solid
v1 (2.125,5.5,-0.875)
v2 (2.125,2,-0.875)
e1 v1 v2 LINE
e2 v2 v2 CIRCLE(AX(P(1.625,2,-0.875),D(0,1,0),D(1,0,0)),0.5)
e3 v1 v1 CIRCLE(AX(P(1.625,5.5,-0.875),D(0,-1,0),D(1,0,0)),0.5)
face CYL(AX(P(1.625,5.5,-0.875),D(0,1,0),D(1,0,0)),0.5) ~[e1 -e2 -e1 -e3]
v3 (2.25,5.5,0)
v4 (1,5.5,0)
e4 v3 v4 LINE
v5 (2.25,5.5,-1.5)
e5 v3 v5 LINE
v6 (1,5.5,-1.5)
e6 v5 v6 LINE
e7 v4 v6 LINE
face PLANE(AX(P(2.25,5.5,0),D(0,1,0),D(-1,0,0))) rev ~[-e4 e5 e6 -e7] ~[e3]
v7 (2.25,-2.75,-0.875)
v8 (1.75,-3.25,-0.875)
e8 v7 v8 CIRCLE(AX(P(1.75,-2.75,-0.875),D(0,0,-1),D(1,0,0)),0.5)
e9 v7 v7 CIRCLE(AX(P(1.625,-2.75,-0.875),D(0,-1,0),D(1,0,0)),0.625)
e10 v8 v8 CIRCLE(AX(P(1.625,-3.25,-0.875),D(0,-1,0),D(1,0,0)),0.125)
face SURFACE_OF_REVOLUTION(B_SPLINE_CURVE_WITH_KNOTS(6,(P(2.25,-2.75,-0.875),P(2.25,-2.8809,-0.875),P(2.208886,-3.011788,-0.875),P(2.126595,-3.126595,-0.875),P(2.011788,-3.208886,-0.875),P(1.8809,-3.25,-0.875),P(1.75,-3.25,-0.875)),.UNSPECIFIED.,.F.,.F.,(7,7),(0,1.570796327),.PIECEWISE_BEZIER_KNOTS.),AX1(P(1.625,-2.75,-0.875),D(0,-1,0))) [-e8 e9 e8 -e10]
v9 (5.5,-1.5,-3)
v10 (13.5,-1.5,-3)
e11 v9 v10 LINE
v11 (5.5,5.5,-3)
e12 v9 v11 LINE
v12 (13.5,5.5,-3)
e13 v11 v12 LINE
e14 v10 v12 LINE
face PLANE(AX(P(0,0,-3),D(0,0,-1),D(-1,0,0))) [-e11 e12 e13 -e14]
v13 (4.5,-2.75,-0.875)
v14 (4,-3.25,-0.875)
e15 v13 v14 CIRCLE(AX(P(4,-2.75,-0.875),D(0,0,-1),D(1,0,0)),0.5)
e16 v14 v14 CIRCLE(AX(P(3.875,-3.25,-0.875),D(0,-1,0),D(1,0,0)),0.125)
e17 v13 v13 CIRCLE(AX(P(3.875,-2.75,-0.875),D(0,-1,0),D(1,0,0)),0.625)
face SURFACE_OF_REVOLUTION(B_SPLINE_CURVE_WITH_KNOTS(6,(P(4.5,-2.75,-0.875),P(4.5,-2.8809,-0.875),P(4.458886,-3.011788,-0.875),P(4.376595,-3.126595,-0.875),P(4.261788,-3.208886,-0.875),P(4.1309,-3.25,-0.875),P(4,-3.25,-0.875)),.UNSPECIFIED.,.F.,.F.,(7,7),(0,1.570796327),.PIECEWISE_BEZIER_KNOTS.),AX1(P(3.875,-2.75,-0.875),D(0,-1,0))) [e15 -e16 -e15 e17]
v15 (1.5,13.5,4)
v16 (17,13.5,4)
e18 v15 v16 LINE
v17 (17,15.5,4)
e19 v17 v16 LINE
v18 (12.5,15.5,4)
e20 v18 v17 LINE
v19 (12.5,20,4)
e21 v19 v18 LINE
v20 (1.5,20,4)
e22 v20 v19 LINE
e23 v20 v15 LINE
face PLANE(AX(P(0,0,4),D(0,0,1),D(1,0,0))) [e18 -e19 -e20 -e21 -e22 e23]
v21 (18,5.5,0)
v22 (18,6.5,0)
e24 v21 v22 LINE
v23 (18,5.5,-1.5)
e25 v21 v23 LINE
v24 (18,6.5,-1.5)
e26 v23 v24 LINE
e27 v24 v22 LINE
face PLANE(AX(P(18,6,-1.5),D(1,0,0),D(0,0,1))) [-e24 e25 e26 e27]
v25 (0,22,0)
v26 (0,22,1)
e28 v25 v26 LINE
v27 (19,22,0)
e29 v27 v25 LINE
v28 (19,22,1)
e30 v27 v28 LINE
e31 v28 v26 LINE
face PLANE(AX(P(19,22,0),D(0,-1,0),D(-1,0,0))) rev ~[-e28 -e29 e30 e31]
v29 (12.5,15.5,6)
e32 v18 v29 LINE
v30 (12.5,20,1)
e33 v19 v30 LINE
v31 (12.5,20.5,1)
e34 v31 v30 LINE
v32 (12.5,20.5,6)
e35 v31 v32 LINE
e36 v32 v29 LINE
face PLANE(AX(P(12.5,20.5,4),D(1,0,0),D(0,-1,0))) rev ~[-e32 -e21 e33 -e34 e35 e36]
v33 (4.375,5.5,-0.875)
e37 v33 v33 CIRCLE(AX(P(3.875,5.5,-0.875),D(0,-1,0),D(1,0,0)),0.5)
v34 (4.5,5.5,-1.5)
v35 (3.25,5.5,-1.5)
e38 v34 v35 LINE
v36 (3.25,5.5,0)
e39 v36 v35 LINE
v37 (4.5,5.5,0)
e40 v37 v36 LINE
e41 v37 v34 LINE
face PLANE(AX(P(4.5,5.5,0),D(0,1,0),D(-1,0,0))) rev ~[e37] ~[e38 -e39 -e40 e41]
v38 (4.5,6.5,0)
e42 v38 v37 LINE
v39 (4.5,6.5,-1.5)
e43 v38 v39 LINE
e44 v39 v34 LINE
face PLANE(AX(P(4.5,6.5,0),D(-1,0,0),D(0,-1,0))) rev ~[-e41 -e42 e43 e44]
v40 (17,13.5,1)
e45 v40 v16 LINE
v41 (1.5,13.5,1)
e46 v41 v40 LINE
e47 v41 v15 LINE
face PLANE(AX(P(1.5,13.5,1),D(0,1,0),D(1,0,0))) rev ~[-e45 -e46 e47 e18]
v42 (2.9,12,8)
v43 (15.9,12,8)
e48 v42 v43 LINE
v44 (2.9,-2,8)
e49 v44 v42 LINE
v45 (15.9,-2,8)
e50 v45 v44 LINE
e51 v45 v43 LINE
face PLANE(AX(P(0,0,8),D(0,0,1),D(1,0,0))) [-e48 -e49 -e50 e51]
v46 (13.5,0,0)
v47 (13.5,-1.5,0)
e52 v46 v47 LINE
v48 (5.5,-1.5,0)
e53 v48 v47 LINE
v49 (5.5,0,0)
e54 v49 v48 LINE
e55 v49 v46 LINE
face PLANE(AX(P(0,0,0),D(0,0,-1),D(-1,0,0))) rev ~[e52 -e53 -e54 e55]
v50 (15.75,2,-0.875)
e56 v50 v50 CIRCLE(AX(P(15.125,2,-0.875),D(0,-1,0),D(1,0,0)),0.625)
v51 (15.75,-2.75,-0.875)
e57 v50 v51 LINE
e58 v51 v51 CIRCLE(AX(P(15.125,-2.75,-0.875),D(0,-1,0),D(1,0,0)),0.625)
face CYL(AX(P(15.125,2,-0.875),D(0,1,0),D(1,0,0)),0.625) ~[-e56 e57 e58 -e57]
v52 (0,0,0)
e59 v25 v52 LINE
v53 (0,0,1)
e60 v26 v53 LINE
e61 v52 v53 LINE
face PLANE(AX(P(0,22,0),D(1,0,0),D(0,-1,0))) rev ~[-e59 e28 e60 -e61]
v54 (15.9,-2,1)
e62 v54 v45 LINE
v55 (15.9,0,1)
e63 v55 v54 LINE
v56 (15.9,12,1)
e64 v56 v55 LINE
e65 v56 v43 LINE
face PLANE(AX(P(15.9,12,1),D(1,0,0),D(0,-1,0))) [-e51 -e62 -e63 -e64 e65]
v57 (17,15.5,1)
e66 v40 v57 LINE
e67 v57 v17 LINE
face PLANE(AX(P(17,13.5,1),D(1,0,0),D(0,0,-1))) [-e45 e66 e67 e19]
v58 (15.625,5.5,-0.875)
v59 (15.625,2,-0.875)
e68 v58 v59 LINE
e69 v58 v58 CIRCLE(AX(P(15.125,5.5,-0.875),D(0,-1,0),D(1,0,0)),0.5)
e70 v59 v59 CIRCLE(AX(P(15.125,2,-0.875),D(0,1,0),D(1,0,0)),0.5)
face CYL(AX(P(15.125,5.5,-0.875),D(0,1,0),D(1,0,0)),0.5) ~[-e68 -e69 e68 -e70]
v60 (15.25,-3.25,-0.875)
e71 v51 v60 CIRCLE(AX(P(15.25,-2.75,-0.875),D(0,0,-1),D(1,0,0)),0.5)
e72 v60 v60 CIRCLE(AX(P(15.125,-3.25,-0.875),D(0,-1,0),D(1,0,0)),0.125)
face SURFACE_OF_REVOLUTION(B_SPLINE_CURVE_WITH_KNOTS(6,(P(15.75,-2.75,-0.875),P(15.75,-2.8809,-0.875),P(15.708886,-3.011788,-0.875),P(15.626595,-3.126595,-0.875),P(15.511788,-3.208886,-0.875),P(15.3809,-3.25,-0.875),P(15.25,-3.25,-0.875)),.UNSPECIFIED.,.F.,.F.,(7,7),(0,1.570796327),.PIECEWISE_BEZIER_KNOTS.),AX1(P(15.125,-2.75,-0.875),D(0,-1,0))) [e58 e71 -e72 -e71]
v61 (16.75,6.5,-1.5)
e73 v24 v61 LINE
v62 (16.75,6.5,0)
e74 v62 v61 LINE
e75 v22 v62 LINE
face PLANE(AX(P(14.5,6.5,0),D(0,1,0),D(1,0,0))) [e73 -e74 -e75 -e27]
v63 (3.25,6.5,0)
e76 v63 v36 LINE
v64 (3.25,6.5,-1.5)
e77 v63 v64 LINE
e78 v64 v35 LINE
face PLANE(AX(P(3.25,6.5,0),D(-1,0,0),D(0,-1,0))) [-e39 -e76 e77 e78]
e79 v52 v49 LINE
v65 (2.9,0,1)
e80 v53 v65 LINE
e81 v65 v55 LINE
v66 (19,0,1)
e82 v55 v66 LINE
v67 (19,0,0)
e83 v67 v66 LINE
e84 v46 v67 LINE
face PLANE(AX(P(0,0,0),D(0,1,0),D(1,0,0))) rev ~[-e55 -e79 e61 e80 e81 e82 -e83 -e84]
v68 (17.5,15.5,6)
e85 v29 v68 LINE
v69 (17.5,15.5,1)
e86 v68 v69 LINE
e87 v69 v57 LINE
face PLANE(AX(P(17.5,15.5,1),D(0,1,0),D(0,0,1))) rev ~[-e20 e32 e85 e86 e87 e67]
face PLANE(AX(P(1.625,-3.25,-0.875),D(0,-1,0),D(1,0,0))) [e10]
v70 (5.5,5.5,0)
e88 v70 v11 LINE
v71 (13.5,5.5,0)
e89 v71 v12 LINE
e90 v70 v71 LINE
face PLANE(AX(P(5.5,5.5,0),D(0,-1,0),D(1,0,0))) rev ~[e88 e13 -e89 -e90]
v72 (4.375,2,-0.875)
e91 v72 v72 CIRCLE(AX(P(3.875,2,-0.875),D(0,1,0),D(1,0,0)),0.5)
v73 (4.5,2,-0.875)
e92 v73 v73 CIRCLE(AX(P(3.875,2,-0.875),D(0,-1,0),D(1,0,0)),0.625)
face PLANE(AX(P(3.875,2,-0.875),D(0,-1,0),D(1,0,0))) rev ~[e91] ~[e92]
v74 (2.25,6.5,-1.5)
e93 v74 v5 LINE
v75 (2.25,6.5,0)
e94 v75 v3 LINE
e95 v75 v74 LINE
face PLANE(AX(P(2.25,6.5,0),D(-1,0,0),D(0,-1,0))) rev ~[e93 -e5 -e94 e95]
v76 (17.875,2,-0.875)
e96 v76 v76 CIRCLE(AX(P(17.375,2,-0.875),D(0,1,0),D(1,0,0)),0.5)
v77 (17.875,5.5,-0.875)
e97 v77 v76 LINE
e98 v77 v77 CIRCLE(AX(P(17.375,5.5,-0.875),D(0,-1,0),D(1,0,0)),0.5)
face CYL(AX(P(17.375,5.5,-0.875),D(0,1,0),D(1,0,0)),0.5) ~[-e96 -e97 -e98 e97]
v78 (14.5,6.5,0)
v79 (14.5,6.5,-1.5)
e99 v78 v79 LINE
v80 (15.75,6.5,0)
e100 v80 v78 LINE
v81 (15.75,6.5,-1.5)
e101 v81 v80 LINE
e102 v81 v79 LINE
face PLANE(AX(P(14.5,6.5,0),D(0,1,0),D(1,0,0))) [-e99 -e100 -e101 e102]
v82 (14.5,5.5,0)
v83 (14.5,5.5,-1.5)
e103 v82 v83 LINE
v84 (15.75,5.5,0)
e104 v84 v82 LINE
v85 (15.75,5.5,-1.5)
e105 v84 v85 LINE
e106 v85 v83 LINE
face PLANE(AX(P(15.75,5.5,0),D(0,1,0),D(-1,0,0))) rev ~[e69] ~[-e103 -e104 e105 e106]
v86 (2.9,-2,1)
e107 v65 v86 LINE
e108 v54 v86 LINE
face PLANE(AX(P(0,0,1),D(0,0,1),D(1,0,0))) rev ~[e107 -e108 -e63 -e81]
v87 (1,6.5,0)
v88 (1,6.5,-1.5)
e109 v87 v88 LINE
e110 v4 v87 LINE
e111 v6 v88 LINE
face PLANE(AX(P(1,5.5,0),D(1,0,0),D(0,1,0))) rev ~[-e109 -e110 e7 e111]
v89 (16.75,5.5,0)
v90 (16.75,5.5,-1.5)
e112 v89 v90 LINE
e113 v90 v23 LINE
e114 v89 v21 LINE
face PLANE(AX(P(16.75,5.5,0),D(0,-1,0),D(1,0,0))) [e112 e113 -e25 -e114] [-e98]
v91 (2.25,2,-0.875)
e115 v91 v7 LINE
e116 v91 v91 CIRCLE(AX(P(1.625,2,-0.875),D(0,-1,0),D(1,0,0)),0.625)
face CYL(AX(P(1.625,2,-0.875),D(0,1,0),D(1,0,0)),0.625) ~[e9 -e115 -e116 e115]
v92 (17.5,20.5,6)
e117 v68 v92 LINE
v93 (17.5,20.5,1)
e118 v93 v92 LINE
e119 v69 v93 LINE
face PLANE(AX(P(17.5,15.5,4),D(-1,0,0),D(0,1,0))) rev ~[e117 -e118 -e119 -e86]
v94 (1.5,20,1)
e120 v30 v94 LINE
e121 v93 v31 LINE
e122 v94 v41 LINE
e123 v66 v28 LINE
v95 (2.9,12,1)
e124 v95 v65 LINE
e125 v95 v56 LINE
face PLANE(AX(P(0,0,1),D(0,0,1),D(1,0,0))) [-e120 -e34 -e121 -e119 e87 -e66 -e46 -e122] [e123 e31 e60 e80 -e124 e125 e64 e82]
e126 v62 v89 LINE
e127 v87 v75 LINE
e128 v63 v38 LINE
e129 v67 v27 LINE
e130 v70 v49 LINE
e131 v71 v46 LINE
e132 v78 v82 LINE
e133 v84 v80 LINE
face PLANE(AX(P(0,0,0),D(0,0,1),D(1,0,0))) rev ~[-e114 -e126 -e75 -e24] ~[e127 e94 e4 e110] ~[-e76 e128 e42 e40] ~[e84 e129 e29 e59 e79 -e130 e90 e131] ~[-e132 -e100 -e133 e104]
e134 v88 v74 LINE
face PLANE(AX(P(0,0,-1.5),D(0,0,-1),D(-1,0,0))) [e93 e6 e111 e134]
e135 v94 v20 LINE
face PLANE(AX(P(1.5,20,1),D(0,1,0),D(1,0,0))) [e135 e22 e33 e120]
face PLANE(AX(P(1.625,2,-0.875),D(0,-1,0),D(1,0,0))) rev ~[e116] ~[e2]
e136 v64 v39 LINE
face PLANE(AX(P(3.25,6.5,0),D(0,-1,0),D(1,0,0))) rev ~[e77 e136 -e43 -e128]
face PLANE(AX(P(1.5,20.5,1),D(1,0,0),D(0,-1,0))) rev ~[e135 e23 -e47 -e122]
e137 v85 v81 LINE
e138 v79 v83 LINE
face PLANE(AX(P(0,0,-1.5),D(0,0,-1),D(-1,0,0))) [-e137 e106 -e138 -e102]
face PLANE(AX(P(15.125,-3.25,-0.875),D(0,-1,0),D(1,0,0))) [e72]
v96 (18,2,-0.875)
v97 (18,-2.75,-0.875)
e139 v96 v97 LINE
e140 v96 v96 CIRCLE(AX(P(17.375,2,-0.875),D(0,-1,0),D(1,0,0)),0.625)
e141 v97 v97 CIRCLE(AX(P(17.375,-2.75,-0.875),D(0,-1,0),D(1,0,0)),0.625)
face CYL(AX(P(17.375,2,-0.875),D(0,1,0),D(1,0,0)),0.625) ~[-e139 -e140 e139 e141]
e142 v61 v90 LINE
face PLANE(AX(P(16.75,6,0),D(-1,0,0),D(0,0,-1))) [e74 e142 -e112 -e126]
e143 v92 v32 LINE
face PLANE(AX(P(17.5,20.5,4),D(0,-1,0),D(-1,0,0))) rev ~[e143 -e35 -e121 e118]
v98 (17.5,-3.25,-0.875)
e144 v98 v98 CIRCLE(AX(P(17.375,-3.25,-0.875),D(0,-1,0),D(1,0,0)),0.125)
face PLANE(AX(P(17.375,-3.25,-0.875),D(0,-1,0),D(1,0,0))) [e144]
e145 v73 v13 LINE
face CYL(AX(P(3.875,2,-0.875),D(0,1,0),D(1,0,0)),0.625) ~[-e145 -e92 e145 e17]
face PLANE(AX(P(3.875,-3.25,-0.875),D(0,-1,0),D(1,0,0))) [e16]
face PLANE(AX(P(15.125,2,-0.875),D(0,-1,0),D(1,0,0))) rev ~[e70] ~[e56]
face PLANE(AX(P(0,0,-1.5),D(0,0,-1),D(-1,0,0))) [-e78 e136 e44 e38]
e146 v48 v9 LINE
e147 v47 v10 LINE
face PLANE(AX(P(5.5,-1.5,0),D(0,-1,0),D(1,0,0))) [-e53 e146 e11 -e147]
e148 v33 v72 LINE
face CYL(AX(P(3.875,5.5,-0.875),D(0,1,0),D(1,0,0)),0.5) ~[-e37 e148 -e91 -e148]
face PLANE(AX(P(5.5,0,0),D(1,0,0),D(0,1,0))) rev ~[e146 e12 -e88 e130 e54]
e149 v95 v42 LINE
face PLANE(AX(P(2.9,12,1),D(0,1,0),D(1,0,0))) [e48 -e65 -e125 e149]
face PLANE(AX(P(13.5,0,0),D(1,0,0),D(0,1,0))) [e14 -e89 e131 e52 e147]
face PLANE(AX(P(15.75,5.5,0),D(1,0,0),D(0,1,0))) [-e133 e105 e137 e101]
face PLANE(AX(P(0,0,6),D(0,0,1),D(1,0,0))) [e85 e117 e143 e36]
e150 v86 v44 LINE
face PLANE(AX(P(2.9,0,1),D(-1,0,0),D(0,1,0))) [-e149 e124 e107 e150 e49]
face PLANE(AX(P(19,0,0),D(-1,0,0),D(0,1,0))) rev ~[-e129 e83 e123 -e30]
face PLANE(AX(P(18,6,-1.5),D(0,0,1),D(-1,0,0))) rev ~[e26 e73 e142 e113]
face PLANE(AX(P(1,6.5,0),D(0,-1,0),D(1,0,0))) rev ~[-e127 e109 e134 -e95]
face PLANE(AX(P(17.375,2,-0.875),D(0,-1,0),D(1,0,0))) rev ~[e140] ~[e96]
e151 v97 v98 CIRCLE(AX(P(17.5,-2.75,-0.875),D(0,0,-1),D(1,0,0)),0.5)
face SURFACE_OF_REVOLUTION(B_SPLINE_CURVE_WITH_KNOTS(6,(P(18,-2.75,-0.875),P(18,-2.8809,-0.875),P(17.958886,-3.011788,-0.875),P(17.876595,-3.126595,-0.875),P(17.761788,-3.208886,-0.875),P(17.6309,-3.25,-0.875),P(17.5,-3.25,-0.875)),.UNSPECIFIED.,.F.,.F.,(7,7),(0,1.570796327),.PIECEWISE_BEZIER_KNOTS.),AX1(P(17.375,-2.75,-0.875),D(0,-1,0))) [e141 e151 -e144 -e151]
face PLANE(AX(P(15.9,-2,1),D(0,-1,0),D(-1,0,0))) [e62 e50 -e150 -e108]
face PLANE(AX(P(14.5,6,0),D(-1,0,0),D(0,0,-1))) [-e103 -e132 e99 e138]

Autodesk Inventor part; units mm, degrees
ref_plane "YZ Plane" through (0, 0, 0) normal (1, 0, 0) x (0, 1, 0)
ref_plane "XZ Plane" through (0, 0, 0) normal (0, 1, 0) x (-1, 0, 0)
ref_plane "XY Plane" through (0, 0, 0) normal (0, 0, 1) x (1, 0, 0)
sketch "Sketch1" plane through (0, 0, 0) normal (0, 0, 1) x (1, 0, 0)
  line L0 (0, 0) -> (19, 0)
  line L1 (19, 0) -> (19, 22)
  line L2 (19, 22) -> (0, 22)
  line L3 (0, 22) -> (0, 0)
  dimension "d0" = 19
  dimension "d1" = 22
extrude "Extrusion1" add sketch "Sketch1" along normal blind 1
sketch "Sketch2" plane through (0, 0, 1) normal (0, 0, 1) x (1, 0, 0)
  line L0 (0, 0) -> (19, 0) projected
  line L1 (0, 0) -> (2.9, 0)
  line L2 (2.9, 0) -> (2.9, 12)
  line L3 (2.9, 12) -> (0, 12)
  line L4 (0, 12) -> (0, 0)
  line L5 (2.9, 12) -> (15.9, 12)
  line L6 (15.9, 12) -> (15.9, -2)
  line L7 (15.9, -2) -> (2.9, -2)
  line L8 (2.9, -2) -> (2.9, 12)
  dimension "d4" = 2.9
  dimension "d5" = 12
  dimension "d6" = 13
  dimension "d7" = 14
extrude "Extrusion2" add sketch "Sketch2" along normal blind 7 contours L2 L5 L6 L0 | L0 L6 L7 L8
sketch "Sketch3" plane through (0, 0, 0) normal (0, 0, -1) x (-1, 0, 0)
  line L0 (-19, 0) -> (-19, 22) projected
  line L1 (-19, 0) -> (-13.5, 0)
  line L2 (-13.5, 0) -> (-13.5, 5)
  line L3 (-13.5, 5) -> (-19, 5)
  line L4 (-19, 5) -> (-19, 0)
  line L5 (-13.5, 0) -> (-5.5, 0)
  line L6 (-5.5, 0) -> (-5.5, 5.5)
  line L7 (-5.5, 5.5) -> (-13.5, 5.5)
  line L8 (-13.5, 5.5) -> (-13.5, 0)
  line L9 (-13.5, 0) -> (-5.5, 0)
  line L10 (-5.5, 0) -> (-5.5, -1.5)
  line L11 (-5.5, -1.5) -> (-13.5, -1.5)
  line L12 (-13.5, -1.5) -> (-13.5, 0)
  point P0 (0, 0)
  dimension "d10" = 5.5
  dimension "d11" = 5
  dimension "d12" = 8
  dimension "d13" = 5.5
  dimension "d16" = 8
  dimension "d17" = 1.5
extrude "Extrusion3" add sketch "Sketch3" along normal blind 3 contours L2 L8 L7 L6 L5 | L5 L10 L11 L12
sketch "Sketch4" plane through (0, 0, 1) normal (0, 0, 1) x (1, 0, 0)
  line L0 (19, 22) -> (0, 22) projected
  line L1 (0, 22) -> (1.5, 22)
  line L2 (1.5, 22) -> (1.5, 20.5)
  line L3 (1.5, 20.5) -> (0, 20.5)
  line L4 (0, 20.5) -> (0, 22)
  line L5 (19, 22) -> (17.5, 22)
  line L6 (17.5, 22) -> (17.5, 20.5)
  line L7 (17.5, 20.5) -> (19, 20.5)
  line L8 (19, 20.5) -> (19, 22)
  line L9 (17.5, 20.5) -> (1.5, 20.5)
  line L10 (1.5, 20.5) -> (1.5, 13.5)
  line L11 (1.5, 13.5) -> (17.5, 13.5)
  line L12 (17.5, 13.5) -> (17.5, 20.5)
  point P0 (0, 0)
  dimension "d18" = 1.5
  dimension "d19" = 1.5
  dimension "d20" = 1.5
  dimension "d21" = 1.5
  dimension "d22" = 16
  dimension "d23" = 7
extrude "Extrusion4" add sketch "Sketch4" along normal blind 3 contours L12 L11 L10 L9
sketch "Sketch5" plane through (0, 0, 4) normal (0, 0, 1) x (1, 0, 0)
  line L0 (17.5, 20.5) -> (1.5, 20.5) projected
  line L1 (17.5, 20.5) -> (12.5, 20.5)
  line L2 (12.5, 20.5) -> (12.5, 15.5)
  line L3 (12.5, 15.5) -> (17.5, 15.5)
  line L4 (17.5, 15.5) -> (17.5, 20.5)
  point P0 (0, 0)
  dimension "d26" = 5
  dimension "d27" = 5
extrude "Extrusion5" add sketch "Sketch5" along normal blind 2
sketch "Sketch6" plane through (1.5, 20.5, 1) normal (0, 1, 0) x (1, 0, 0)
  line L0 (0, -3) -> (16, -3) projected
  line L1 (0, -3) -> (11, -3)
  line L2 (11, -3) -> (11, 0)
  line L3 (11, 0) -> (0, 0)
  line L4 (0, 0) -> (0, -3)
  point P0 (-1.5, 1)
  dimension "d30" = 11
  dimension "d31" = 3
extrude "Extrusion6" cut sketch "Sketch6" against normal blind 0.5
sketch "Sketch7" plane through (17.5, 13.5, 1) normal (1, 0, 0) x (0, 0, -1)
  line L0 (0, 0) -> (-3, 0) projected
  line L1 (-3, 0) -> (0, 0)
  line L2 (0, 0) -> (0, 2)
  line L3 (0, 2) -> (-3, 2)
  line L4 (-3, 2) -> (-3, 0)
  point P0 (1, -13.5)
  dimension "d34" = 3
  dimension "d35" = 2
extrude "Extrusion7" cut sketch "Sketch7" against normal blind 0.5
sketch "Sketch8" plane through (0, 0, 0) normal (0, 0, -1) x (-1, 0, 0)
  line L0 (-19, 0) -> (-19, 22) projected
  line L1 (-19, 0) -> (-18, 0)
  line L2 (-18, 0) -> (-18, 6)
  line L3 (-18, 6) -> (-19, 6)
  line L4 (-19, 6) -> (-19, 0)
  line L5 (-18, 6) -> (-16.75, 6)
  line L6 (-16.75, 6) -> (-16.75, 5.5)
  line L7 (-16.75, 5.5) -> (-18, 5.5)
  line L8 (-18, 5.5) -> (-18, 6)
  line L9 (-16.75, 5.5) -> (-15.75, 5.5)
  line L10 (-15.75, 5.5) -> (-15.75, 6)
  line L11 (-15.75, 6) -> (-16.75, 6)
  line L12 (-16.75, 6) -> (-16.75, 5.5)
  line L13 (-15.75, 5.5) -> (-14.5, 5.5)
  line L14 (-14.5, 5.5) -> (-14.5, 6)
  line L15 (-14.5, 6) -> (-15.75, 6)
  line L16 (-15.75, 6) -> (-15.75, 5.5)
  line L17 (-13.5, 5.5) -> (-5.5, 5.5) projected
  line L18 (-14.5, 6) -> (-13.5, 6)
  line L19 (-13.5, 6) -> (-13.5, 5.5)
  line L20 (-13.5, 5.5) -> (-14.5, 5.5)
  line L21 (-14.5, 5.5) -> (-14.5, 6)
  point P0 (0, 0)
  dimension "d38" = 1
  dimension "d39" = 6
  dimension "d40" = 1.25
  dimension "d41" = 0.5
  dimension "d42" = 1
  dimension "d43" = 1.25
  dimension "d44" = 1
  dimension "d45" = 0.5
extrude "Extrusion8" add sketch "Sketch8" along normal blind 1.5 contours L5 L6 L7 L2 | L15 L14 L13 L10
sketch "Sketch9" plane through (14.5, 6, 0) normal (0, 1, 0) x (1, 0, 0)
  line L0 (1.25, 1.5) -> (0, 1.5) projected
  line L1 (0, 1.5) -> (1.25, 1.5)
  line L2 (1.25, 1.5) -> (1.25, 0)
  line L3 (1.25, 0) -> (0, 0)
  line L4 (0, 0) -> (0, 1.5)
  line L5 (3.5, 1.5) -> (2.25, 1.5) projected
  line L6 (2.25, 1.5) -> (3.5, 1.5)
  line L7 (3.5, 1.5) -> (3.5, 0)
  line L8 (3.5, 0) -> (2.25, 0)
  line L9 (2.25, 0) -> (2.25, 1.5)
  point P0 (-14.5, 0)
  dimension "d48" = 1.25
  dimension "d49" = 1.5
  dimension "d50" = 1.25
  dimension "d51" = 1.5
extrude "Extrusion9" add sketch "Sketch9" along normal blind 0.5
sketch "Sketch10" plane through (16.75, 5.5, 0) normal (0, -1, 0) x (1, 0, 0)
  line L0 (1.25, 0) -> (1.25, -1.5) projected
  line L1 (1.25, -1.5) -> (0.625, -1.5)
  line L2 (0.625, -1.5) -> (0.625, -0.875)
  line L3 (0.625, -0.875) -> (1.25, -0.875)
  line L4 (1.25, -0.875) -> (1.25, -1.5)
  circle A0 centre (0.625, -0.875) radius 0.5
  line L5 (-1, -1.5) -> (-2.25, -1.5) projected
  line L6 (-1, -1.5) -> (-1.625, -1.5)
  line L7 (-1.625, -1.5) -> (-1.625, -0.875)
  line L8 (-1.625, -0.875) -> (-1, -0.875)
  line L9 (-1, -0.875) -> (-1, -1.5)
  circle A1 centre (-1.625, -0.875) radius 0.5
  point P0 (-16.75, 0)
  dimension "d54" = 0.625
  dimension "d55" = 0.625
  dimension "d56" = 1
  dimension "d57" = 0.625
  dimension "d58" = 0.625
  dimension "d59" = 1
extrude "Extrusion10" add sketch "Sketch10" along normal blind 3.5 contours A0 L2 L3 | L3 L2 A0 | A1 L8 L7 | L7 L8 A1
sketch "Sketch11" plane through (17.375, 2, -0.875) normal (0, -1, 0) x (1, 0, 0)
  circle A0 centre (0, 0) radius 0.625
  point P0 (-17.375, 0.875)
  dimension "d62" = 1.25
extrude "Extrusion11" add sketch "Sketch11" along normal blind 5.25
sketch "Sketch12" plane through (0, 0, 0) normal (0, 0, -1) x (-1, 0, 0)
  point P0 (0, 0)
sketch "Sketch13" plane through (0, 0, 0) normal (0, 0, -1) x (-1, 0, 0)
  line L0 (0, 0) -> (-2.9, 0) projected
  line L1 (0, 0) -> (-1, 0)
  line L2 (-1, 0) -> (-1, 6.5)
  line L3 (-1, 6.5) -> (0, 6.5)
  line L4 (0, 6.5) -> (0, 0)
  line L5 (-1, 6.5) -> (-2.25, 6.5)
  line L6 (-2.25, 6.5) -> (-2.25, 5.5)
  line L7 (-2.25, 5.5) -> (-1, 5.5)
  line L8 (-1, 5.5) -> (-1, 6.5)
  line L9 (-2.25, 6.5) -> (-3.25, 6.5)
  line L10 (-3.25, 6.5) -> (-3.25, 5.5)
  line L11 (-3.25, 5.5) -> (-2.25, 5.5)
  line L12 (-2.25, 5.5) -> (-2.25, 6.5)
  line L13 (-3.25, 6.5) -> (-4.5, 6.5)
  line L14 (-4.5, 6.5) -> (-4.5, 5.5)
  line L15 (-4.5, 5.5) -> (-3.25, 5.5)
  line L16 (-3.25, 5.5) -> (-3.25, 6.5)
  dimension "d65" = 1
  dimension "d66" = 6.5
  dimension "d67" = 1.25
  dimension "d68" = 1
  dimension "d69" = 1
  dimension "d70" = 1
  dimension "d71" = 1.25
  dimension "d72" = 1
extrude "Extrusion12" add sketch "Sketch13" along normal blind 1.5 contours L7 L6 L5 L2 | L15 L14 L13 L10
sketch "Sketch14" plane through (3.25, 5.5, 0) normal (0, -1, 0) x (1, 0, 0)
  line L0 (0, -1.5) -> (1.25, -1.5) projected
  line L1 (1.25, -1.5) -> (0.625, -1.5)
  line L2 (0.625, -1.5) -> (0.625, -0.875)
  line L3 (0.625, -0.875) -> (1.25, -0.875)
  line L4 (1.25, -0.875) -> (1.25, -1.5)
  circle A0 centre (0.625, -0.875) radius 0.5
  line L5 (-2.25, -1.5) -> (-1, -1.5) projected
  line L6 (-1, -1.5) -> (-1.625, -1.5)
  line L7 (-1.625, -1.5) -> (-1.625, -0.875)
  line L8 (-1.625, -0.875) -> (-1, -0.875)
  line L9 (-1, -0.875) -> (-1, -1.5)
  circle A1 centre (-1.625, -0.875) radius 0.5
  point P0 (-3.25, 0)
  dimension "d75" = 0.625
  dimension "d76" = 0.625
  dimension "d77" = 1
  dimension "d78" = 0.625
  dimension "d79" = 0.625
  dimension "d80" = 1
extrude "Extrusion13" add sketch "Sketch14" along normal blind 3.5 contours A0 L3 L2 | L2 L3 A0 | A1 L8 L7 | L7 L8 A1
sketch "Sketch15" plane through (3.875, 2, -0.875) normal (0, -1, 0) x (1, 0, 0)
  circle A0 centre (0, 0) radius 0.625
  point P0 (-3.875, 0.875)
  dimension "d83" = 1.25
extrude "Extrusion14" add sketch "Sketch15" along normal blind 5.25
sketch "Sketch16" plane through (1.625, 2, -0.875) normal (0, -1, 0) x (1, 0, 0)
  circle A0 centre (0, 0) radius 0.625
  point P0 (-1.625, 0.875)
  dimension "d86" = 1.25
extrude "Extrusion15" add sketch "Sketch16" along normal blind 5.25
sketch "Sketch17" plane through (15.125, 2, -0.875) normal (0, -1, 0) x (1, 0, 0)
  circle A0 centre (0, 0) radius 0.625
  point P0 (-15.125, 0.875)
  dimension "d89" = 1.25
extrude "Extrusion16" add sketch "Sketch17" along normal blind 5.25
fillet "Fillet1" radius 0.5 4 edges at (16.75, -3.25, -0.875) (14.5, -3.25, -0.875) (3.25, -3.25, -0.875) (1, -3.25, -0.875)
sketch "Sketch18" plane through (2.9, -2, 1) normal (0, -1, 0) x (1, 0, 0)
  line L0 (0, 7) -> (13.0027, 7) construction
  line L1 (13.0027, 7) -> (13.0027, 1.5822) construction
  line L2 (13.0027, 1.5822) -> (0, 1.5822) construction
  line L3 (0, 1.5822) -> (0, 7) construction
  point P0 (-2.9, -1)
sketch "Sketch19" plane through (5.5, -1.5, 0) normal (0, -1, 0) x (1, 0, 0)
  line L0 (8, 0) -> (0, 0) projected
  line L1 (0, 0) -> (8, 0) construction
  line L2 (8, 0) -> (8, -3.25) construction
  line L3 (8, -3.25) -> (0, -3.25) construction
  line L4 (0, -3.25) -> (0, 0) construction
  point P0 (-5.5, 0)
properties part number "Battery-Management"
